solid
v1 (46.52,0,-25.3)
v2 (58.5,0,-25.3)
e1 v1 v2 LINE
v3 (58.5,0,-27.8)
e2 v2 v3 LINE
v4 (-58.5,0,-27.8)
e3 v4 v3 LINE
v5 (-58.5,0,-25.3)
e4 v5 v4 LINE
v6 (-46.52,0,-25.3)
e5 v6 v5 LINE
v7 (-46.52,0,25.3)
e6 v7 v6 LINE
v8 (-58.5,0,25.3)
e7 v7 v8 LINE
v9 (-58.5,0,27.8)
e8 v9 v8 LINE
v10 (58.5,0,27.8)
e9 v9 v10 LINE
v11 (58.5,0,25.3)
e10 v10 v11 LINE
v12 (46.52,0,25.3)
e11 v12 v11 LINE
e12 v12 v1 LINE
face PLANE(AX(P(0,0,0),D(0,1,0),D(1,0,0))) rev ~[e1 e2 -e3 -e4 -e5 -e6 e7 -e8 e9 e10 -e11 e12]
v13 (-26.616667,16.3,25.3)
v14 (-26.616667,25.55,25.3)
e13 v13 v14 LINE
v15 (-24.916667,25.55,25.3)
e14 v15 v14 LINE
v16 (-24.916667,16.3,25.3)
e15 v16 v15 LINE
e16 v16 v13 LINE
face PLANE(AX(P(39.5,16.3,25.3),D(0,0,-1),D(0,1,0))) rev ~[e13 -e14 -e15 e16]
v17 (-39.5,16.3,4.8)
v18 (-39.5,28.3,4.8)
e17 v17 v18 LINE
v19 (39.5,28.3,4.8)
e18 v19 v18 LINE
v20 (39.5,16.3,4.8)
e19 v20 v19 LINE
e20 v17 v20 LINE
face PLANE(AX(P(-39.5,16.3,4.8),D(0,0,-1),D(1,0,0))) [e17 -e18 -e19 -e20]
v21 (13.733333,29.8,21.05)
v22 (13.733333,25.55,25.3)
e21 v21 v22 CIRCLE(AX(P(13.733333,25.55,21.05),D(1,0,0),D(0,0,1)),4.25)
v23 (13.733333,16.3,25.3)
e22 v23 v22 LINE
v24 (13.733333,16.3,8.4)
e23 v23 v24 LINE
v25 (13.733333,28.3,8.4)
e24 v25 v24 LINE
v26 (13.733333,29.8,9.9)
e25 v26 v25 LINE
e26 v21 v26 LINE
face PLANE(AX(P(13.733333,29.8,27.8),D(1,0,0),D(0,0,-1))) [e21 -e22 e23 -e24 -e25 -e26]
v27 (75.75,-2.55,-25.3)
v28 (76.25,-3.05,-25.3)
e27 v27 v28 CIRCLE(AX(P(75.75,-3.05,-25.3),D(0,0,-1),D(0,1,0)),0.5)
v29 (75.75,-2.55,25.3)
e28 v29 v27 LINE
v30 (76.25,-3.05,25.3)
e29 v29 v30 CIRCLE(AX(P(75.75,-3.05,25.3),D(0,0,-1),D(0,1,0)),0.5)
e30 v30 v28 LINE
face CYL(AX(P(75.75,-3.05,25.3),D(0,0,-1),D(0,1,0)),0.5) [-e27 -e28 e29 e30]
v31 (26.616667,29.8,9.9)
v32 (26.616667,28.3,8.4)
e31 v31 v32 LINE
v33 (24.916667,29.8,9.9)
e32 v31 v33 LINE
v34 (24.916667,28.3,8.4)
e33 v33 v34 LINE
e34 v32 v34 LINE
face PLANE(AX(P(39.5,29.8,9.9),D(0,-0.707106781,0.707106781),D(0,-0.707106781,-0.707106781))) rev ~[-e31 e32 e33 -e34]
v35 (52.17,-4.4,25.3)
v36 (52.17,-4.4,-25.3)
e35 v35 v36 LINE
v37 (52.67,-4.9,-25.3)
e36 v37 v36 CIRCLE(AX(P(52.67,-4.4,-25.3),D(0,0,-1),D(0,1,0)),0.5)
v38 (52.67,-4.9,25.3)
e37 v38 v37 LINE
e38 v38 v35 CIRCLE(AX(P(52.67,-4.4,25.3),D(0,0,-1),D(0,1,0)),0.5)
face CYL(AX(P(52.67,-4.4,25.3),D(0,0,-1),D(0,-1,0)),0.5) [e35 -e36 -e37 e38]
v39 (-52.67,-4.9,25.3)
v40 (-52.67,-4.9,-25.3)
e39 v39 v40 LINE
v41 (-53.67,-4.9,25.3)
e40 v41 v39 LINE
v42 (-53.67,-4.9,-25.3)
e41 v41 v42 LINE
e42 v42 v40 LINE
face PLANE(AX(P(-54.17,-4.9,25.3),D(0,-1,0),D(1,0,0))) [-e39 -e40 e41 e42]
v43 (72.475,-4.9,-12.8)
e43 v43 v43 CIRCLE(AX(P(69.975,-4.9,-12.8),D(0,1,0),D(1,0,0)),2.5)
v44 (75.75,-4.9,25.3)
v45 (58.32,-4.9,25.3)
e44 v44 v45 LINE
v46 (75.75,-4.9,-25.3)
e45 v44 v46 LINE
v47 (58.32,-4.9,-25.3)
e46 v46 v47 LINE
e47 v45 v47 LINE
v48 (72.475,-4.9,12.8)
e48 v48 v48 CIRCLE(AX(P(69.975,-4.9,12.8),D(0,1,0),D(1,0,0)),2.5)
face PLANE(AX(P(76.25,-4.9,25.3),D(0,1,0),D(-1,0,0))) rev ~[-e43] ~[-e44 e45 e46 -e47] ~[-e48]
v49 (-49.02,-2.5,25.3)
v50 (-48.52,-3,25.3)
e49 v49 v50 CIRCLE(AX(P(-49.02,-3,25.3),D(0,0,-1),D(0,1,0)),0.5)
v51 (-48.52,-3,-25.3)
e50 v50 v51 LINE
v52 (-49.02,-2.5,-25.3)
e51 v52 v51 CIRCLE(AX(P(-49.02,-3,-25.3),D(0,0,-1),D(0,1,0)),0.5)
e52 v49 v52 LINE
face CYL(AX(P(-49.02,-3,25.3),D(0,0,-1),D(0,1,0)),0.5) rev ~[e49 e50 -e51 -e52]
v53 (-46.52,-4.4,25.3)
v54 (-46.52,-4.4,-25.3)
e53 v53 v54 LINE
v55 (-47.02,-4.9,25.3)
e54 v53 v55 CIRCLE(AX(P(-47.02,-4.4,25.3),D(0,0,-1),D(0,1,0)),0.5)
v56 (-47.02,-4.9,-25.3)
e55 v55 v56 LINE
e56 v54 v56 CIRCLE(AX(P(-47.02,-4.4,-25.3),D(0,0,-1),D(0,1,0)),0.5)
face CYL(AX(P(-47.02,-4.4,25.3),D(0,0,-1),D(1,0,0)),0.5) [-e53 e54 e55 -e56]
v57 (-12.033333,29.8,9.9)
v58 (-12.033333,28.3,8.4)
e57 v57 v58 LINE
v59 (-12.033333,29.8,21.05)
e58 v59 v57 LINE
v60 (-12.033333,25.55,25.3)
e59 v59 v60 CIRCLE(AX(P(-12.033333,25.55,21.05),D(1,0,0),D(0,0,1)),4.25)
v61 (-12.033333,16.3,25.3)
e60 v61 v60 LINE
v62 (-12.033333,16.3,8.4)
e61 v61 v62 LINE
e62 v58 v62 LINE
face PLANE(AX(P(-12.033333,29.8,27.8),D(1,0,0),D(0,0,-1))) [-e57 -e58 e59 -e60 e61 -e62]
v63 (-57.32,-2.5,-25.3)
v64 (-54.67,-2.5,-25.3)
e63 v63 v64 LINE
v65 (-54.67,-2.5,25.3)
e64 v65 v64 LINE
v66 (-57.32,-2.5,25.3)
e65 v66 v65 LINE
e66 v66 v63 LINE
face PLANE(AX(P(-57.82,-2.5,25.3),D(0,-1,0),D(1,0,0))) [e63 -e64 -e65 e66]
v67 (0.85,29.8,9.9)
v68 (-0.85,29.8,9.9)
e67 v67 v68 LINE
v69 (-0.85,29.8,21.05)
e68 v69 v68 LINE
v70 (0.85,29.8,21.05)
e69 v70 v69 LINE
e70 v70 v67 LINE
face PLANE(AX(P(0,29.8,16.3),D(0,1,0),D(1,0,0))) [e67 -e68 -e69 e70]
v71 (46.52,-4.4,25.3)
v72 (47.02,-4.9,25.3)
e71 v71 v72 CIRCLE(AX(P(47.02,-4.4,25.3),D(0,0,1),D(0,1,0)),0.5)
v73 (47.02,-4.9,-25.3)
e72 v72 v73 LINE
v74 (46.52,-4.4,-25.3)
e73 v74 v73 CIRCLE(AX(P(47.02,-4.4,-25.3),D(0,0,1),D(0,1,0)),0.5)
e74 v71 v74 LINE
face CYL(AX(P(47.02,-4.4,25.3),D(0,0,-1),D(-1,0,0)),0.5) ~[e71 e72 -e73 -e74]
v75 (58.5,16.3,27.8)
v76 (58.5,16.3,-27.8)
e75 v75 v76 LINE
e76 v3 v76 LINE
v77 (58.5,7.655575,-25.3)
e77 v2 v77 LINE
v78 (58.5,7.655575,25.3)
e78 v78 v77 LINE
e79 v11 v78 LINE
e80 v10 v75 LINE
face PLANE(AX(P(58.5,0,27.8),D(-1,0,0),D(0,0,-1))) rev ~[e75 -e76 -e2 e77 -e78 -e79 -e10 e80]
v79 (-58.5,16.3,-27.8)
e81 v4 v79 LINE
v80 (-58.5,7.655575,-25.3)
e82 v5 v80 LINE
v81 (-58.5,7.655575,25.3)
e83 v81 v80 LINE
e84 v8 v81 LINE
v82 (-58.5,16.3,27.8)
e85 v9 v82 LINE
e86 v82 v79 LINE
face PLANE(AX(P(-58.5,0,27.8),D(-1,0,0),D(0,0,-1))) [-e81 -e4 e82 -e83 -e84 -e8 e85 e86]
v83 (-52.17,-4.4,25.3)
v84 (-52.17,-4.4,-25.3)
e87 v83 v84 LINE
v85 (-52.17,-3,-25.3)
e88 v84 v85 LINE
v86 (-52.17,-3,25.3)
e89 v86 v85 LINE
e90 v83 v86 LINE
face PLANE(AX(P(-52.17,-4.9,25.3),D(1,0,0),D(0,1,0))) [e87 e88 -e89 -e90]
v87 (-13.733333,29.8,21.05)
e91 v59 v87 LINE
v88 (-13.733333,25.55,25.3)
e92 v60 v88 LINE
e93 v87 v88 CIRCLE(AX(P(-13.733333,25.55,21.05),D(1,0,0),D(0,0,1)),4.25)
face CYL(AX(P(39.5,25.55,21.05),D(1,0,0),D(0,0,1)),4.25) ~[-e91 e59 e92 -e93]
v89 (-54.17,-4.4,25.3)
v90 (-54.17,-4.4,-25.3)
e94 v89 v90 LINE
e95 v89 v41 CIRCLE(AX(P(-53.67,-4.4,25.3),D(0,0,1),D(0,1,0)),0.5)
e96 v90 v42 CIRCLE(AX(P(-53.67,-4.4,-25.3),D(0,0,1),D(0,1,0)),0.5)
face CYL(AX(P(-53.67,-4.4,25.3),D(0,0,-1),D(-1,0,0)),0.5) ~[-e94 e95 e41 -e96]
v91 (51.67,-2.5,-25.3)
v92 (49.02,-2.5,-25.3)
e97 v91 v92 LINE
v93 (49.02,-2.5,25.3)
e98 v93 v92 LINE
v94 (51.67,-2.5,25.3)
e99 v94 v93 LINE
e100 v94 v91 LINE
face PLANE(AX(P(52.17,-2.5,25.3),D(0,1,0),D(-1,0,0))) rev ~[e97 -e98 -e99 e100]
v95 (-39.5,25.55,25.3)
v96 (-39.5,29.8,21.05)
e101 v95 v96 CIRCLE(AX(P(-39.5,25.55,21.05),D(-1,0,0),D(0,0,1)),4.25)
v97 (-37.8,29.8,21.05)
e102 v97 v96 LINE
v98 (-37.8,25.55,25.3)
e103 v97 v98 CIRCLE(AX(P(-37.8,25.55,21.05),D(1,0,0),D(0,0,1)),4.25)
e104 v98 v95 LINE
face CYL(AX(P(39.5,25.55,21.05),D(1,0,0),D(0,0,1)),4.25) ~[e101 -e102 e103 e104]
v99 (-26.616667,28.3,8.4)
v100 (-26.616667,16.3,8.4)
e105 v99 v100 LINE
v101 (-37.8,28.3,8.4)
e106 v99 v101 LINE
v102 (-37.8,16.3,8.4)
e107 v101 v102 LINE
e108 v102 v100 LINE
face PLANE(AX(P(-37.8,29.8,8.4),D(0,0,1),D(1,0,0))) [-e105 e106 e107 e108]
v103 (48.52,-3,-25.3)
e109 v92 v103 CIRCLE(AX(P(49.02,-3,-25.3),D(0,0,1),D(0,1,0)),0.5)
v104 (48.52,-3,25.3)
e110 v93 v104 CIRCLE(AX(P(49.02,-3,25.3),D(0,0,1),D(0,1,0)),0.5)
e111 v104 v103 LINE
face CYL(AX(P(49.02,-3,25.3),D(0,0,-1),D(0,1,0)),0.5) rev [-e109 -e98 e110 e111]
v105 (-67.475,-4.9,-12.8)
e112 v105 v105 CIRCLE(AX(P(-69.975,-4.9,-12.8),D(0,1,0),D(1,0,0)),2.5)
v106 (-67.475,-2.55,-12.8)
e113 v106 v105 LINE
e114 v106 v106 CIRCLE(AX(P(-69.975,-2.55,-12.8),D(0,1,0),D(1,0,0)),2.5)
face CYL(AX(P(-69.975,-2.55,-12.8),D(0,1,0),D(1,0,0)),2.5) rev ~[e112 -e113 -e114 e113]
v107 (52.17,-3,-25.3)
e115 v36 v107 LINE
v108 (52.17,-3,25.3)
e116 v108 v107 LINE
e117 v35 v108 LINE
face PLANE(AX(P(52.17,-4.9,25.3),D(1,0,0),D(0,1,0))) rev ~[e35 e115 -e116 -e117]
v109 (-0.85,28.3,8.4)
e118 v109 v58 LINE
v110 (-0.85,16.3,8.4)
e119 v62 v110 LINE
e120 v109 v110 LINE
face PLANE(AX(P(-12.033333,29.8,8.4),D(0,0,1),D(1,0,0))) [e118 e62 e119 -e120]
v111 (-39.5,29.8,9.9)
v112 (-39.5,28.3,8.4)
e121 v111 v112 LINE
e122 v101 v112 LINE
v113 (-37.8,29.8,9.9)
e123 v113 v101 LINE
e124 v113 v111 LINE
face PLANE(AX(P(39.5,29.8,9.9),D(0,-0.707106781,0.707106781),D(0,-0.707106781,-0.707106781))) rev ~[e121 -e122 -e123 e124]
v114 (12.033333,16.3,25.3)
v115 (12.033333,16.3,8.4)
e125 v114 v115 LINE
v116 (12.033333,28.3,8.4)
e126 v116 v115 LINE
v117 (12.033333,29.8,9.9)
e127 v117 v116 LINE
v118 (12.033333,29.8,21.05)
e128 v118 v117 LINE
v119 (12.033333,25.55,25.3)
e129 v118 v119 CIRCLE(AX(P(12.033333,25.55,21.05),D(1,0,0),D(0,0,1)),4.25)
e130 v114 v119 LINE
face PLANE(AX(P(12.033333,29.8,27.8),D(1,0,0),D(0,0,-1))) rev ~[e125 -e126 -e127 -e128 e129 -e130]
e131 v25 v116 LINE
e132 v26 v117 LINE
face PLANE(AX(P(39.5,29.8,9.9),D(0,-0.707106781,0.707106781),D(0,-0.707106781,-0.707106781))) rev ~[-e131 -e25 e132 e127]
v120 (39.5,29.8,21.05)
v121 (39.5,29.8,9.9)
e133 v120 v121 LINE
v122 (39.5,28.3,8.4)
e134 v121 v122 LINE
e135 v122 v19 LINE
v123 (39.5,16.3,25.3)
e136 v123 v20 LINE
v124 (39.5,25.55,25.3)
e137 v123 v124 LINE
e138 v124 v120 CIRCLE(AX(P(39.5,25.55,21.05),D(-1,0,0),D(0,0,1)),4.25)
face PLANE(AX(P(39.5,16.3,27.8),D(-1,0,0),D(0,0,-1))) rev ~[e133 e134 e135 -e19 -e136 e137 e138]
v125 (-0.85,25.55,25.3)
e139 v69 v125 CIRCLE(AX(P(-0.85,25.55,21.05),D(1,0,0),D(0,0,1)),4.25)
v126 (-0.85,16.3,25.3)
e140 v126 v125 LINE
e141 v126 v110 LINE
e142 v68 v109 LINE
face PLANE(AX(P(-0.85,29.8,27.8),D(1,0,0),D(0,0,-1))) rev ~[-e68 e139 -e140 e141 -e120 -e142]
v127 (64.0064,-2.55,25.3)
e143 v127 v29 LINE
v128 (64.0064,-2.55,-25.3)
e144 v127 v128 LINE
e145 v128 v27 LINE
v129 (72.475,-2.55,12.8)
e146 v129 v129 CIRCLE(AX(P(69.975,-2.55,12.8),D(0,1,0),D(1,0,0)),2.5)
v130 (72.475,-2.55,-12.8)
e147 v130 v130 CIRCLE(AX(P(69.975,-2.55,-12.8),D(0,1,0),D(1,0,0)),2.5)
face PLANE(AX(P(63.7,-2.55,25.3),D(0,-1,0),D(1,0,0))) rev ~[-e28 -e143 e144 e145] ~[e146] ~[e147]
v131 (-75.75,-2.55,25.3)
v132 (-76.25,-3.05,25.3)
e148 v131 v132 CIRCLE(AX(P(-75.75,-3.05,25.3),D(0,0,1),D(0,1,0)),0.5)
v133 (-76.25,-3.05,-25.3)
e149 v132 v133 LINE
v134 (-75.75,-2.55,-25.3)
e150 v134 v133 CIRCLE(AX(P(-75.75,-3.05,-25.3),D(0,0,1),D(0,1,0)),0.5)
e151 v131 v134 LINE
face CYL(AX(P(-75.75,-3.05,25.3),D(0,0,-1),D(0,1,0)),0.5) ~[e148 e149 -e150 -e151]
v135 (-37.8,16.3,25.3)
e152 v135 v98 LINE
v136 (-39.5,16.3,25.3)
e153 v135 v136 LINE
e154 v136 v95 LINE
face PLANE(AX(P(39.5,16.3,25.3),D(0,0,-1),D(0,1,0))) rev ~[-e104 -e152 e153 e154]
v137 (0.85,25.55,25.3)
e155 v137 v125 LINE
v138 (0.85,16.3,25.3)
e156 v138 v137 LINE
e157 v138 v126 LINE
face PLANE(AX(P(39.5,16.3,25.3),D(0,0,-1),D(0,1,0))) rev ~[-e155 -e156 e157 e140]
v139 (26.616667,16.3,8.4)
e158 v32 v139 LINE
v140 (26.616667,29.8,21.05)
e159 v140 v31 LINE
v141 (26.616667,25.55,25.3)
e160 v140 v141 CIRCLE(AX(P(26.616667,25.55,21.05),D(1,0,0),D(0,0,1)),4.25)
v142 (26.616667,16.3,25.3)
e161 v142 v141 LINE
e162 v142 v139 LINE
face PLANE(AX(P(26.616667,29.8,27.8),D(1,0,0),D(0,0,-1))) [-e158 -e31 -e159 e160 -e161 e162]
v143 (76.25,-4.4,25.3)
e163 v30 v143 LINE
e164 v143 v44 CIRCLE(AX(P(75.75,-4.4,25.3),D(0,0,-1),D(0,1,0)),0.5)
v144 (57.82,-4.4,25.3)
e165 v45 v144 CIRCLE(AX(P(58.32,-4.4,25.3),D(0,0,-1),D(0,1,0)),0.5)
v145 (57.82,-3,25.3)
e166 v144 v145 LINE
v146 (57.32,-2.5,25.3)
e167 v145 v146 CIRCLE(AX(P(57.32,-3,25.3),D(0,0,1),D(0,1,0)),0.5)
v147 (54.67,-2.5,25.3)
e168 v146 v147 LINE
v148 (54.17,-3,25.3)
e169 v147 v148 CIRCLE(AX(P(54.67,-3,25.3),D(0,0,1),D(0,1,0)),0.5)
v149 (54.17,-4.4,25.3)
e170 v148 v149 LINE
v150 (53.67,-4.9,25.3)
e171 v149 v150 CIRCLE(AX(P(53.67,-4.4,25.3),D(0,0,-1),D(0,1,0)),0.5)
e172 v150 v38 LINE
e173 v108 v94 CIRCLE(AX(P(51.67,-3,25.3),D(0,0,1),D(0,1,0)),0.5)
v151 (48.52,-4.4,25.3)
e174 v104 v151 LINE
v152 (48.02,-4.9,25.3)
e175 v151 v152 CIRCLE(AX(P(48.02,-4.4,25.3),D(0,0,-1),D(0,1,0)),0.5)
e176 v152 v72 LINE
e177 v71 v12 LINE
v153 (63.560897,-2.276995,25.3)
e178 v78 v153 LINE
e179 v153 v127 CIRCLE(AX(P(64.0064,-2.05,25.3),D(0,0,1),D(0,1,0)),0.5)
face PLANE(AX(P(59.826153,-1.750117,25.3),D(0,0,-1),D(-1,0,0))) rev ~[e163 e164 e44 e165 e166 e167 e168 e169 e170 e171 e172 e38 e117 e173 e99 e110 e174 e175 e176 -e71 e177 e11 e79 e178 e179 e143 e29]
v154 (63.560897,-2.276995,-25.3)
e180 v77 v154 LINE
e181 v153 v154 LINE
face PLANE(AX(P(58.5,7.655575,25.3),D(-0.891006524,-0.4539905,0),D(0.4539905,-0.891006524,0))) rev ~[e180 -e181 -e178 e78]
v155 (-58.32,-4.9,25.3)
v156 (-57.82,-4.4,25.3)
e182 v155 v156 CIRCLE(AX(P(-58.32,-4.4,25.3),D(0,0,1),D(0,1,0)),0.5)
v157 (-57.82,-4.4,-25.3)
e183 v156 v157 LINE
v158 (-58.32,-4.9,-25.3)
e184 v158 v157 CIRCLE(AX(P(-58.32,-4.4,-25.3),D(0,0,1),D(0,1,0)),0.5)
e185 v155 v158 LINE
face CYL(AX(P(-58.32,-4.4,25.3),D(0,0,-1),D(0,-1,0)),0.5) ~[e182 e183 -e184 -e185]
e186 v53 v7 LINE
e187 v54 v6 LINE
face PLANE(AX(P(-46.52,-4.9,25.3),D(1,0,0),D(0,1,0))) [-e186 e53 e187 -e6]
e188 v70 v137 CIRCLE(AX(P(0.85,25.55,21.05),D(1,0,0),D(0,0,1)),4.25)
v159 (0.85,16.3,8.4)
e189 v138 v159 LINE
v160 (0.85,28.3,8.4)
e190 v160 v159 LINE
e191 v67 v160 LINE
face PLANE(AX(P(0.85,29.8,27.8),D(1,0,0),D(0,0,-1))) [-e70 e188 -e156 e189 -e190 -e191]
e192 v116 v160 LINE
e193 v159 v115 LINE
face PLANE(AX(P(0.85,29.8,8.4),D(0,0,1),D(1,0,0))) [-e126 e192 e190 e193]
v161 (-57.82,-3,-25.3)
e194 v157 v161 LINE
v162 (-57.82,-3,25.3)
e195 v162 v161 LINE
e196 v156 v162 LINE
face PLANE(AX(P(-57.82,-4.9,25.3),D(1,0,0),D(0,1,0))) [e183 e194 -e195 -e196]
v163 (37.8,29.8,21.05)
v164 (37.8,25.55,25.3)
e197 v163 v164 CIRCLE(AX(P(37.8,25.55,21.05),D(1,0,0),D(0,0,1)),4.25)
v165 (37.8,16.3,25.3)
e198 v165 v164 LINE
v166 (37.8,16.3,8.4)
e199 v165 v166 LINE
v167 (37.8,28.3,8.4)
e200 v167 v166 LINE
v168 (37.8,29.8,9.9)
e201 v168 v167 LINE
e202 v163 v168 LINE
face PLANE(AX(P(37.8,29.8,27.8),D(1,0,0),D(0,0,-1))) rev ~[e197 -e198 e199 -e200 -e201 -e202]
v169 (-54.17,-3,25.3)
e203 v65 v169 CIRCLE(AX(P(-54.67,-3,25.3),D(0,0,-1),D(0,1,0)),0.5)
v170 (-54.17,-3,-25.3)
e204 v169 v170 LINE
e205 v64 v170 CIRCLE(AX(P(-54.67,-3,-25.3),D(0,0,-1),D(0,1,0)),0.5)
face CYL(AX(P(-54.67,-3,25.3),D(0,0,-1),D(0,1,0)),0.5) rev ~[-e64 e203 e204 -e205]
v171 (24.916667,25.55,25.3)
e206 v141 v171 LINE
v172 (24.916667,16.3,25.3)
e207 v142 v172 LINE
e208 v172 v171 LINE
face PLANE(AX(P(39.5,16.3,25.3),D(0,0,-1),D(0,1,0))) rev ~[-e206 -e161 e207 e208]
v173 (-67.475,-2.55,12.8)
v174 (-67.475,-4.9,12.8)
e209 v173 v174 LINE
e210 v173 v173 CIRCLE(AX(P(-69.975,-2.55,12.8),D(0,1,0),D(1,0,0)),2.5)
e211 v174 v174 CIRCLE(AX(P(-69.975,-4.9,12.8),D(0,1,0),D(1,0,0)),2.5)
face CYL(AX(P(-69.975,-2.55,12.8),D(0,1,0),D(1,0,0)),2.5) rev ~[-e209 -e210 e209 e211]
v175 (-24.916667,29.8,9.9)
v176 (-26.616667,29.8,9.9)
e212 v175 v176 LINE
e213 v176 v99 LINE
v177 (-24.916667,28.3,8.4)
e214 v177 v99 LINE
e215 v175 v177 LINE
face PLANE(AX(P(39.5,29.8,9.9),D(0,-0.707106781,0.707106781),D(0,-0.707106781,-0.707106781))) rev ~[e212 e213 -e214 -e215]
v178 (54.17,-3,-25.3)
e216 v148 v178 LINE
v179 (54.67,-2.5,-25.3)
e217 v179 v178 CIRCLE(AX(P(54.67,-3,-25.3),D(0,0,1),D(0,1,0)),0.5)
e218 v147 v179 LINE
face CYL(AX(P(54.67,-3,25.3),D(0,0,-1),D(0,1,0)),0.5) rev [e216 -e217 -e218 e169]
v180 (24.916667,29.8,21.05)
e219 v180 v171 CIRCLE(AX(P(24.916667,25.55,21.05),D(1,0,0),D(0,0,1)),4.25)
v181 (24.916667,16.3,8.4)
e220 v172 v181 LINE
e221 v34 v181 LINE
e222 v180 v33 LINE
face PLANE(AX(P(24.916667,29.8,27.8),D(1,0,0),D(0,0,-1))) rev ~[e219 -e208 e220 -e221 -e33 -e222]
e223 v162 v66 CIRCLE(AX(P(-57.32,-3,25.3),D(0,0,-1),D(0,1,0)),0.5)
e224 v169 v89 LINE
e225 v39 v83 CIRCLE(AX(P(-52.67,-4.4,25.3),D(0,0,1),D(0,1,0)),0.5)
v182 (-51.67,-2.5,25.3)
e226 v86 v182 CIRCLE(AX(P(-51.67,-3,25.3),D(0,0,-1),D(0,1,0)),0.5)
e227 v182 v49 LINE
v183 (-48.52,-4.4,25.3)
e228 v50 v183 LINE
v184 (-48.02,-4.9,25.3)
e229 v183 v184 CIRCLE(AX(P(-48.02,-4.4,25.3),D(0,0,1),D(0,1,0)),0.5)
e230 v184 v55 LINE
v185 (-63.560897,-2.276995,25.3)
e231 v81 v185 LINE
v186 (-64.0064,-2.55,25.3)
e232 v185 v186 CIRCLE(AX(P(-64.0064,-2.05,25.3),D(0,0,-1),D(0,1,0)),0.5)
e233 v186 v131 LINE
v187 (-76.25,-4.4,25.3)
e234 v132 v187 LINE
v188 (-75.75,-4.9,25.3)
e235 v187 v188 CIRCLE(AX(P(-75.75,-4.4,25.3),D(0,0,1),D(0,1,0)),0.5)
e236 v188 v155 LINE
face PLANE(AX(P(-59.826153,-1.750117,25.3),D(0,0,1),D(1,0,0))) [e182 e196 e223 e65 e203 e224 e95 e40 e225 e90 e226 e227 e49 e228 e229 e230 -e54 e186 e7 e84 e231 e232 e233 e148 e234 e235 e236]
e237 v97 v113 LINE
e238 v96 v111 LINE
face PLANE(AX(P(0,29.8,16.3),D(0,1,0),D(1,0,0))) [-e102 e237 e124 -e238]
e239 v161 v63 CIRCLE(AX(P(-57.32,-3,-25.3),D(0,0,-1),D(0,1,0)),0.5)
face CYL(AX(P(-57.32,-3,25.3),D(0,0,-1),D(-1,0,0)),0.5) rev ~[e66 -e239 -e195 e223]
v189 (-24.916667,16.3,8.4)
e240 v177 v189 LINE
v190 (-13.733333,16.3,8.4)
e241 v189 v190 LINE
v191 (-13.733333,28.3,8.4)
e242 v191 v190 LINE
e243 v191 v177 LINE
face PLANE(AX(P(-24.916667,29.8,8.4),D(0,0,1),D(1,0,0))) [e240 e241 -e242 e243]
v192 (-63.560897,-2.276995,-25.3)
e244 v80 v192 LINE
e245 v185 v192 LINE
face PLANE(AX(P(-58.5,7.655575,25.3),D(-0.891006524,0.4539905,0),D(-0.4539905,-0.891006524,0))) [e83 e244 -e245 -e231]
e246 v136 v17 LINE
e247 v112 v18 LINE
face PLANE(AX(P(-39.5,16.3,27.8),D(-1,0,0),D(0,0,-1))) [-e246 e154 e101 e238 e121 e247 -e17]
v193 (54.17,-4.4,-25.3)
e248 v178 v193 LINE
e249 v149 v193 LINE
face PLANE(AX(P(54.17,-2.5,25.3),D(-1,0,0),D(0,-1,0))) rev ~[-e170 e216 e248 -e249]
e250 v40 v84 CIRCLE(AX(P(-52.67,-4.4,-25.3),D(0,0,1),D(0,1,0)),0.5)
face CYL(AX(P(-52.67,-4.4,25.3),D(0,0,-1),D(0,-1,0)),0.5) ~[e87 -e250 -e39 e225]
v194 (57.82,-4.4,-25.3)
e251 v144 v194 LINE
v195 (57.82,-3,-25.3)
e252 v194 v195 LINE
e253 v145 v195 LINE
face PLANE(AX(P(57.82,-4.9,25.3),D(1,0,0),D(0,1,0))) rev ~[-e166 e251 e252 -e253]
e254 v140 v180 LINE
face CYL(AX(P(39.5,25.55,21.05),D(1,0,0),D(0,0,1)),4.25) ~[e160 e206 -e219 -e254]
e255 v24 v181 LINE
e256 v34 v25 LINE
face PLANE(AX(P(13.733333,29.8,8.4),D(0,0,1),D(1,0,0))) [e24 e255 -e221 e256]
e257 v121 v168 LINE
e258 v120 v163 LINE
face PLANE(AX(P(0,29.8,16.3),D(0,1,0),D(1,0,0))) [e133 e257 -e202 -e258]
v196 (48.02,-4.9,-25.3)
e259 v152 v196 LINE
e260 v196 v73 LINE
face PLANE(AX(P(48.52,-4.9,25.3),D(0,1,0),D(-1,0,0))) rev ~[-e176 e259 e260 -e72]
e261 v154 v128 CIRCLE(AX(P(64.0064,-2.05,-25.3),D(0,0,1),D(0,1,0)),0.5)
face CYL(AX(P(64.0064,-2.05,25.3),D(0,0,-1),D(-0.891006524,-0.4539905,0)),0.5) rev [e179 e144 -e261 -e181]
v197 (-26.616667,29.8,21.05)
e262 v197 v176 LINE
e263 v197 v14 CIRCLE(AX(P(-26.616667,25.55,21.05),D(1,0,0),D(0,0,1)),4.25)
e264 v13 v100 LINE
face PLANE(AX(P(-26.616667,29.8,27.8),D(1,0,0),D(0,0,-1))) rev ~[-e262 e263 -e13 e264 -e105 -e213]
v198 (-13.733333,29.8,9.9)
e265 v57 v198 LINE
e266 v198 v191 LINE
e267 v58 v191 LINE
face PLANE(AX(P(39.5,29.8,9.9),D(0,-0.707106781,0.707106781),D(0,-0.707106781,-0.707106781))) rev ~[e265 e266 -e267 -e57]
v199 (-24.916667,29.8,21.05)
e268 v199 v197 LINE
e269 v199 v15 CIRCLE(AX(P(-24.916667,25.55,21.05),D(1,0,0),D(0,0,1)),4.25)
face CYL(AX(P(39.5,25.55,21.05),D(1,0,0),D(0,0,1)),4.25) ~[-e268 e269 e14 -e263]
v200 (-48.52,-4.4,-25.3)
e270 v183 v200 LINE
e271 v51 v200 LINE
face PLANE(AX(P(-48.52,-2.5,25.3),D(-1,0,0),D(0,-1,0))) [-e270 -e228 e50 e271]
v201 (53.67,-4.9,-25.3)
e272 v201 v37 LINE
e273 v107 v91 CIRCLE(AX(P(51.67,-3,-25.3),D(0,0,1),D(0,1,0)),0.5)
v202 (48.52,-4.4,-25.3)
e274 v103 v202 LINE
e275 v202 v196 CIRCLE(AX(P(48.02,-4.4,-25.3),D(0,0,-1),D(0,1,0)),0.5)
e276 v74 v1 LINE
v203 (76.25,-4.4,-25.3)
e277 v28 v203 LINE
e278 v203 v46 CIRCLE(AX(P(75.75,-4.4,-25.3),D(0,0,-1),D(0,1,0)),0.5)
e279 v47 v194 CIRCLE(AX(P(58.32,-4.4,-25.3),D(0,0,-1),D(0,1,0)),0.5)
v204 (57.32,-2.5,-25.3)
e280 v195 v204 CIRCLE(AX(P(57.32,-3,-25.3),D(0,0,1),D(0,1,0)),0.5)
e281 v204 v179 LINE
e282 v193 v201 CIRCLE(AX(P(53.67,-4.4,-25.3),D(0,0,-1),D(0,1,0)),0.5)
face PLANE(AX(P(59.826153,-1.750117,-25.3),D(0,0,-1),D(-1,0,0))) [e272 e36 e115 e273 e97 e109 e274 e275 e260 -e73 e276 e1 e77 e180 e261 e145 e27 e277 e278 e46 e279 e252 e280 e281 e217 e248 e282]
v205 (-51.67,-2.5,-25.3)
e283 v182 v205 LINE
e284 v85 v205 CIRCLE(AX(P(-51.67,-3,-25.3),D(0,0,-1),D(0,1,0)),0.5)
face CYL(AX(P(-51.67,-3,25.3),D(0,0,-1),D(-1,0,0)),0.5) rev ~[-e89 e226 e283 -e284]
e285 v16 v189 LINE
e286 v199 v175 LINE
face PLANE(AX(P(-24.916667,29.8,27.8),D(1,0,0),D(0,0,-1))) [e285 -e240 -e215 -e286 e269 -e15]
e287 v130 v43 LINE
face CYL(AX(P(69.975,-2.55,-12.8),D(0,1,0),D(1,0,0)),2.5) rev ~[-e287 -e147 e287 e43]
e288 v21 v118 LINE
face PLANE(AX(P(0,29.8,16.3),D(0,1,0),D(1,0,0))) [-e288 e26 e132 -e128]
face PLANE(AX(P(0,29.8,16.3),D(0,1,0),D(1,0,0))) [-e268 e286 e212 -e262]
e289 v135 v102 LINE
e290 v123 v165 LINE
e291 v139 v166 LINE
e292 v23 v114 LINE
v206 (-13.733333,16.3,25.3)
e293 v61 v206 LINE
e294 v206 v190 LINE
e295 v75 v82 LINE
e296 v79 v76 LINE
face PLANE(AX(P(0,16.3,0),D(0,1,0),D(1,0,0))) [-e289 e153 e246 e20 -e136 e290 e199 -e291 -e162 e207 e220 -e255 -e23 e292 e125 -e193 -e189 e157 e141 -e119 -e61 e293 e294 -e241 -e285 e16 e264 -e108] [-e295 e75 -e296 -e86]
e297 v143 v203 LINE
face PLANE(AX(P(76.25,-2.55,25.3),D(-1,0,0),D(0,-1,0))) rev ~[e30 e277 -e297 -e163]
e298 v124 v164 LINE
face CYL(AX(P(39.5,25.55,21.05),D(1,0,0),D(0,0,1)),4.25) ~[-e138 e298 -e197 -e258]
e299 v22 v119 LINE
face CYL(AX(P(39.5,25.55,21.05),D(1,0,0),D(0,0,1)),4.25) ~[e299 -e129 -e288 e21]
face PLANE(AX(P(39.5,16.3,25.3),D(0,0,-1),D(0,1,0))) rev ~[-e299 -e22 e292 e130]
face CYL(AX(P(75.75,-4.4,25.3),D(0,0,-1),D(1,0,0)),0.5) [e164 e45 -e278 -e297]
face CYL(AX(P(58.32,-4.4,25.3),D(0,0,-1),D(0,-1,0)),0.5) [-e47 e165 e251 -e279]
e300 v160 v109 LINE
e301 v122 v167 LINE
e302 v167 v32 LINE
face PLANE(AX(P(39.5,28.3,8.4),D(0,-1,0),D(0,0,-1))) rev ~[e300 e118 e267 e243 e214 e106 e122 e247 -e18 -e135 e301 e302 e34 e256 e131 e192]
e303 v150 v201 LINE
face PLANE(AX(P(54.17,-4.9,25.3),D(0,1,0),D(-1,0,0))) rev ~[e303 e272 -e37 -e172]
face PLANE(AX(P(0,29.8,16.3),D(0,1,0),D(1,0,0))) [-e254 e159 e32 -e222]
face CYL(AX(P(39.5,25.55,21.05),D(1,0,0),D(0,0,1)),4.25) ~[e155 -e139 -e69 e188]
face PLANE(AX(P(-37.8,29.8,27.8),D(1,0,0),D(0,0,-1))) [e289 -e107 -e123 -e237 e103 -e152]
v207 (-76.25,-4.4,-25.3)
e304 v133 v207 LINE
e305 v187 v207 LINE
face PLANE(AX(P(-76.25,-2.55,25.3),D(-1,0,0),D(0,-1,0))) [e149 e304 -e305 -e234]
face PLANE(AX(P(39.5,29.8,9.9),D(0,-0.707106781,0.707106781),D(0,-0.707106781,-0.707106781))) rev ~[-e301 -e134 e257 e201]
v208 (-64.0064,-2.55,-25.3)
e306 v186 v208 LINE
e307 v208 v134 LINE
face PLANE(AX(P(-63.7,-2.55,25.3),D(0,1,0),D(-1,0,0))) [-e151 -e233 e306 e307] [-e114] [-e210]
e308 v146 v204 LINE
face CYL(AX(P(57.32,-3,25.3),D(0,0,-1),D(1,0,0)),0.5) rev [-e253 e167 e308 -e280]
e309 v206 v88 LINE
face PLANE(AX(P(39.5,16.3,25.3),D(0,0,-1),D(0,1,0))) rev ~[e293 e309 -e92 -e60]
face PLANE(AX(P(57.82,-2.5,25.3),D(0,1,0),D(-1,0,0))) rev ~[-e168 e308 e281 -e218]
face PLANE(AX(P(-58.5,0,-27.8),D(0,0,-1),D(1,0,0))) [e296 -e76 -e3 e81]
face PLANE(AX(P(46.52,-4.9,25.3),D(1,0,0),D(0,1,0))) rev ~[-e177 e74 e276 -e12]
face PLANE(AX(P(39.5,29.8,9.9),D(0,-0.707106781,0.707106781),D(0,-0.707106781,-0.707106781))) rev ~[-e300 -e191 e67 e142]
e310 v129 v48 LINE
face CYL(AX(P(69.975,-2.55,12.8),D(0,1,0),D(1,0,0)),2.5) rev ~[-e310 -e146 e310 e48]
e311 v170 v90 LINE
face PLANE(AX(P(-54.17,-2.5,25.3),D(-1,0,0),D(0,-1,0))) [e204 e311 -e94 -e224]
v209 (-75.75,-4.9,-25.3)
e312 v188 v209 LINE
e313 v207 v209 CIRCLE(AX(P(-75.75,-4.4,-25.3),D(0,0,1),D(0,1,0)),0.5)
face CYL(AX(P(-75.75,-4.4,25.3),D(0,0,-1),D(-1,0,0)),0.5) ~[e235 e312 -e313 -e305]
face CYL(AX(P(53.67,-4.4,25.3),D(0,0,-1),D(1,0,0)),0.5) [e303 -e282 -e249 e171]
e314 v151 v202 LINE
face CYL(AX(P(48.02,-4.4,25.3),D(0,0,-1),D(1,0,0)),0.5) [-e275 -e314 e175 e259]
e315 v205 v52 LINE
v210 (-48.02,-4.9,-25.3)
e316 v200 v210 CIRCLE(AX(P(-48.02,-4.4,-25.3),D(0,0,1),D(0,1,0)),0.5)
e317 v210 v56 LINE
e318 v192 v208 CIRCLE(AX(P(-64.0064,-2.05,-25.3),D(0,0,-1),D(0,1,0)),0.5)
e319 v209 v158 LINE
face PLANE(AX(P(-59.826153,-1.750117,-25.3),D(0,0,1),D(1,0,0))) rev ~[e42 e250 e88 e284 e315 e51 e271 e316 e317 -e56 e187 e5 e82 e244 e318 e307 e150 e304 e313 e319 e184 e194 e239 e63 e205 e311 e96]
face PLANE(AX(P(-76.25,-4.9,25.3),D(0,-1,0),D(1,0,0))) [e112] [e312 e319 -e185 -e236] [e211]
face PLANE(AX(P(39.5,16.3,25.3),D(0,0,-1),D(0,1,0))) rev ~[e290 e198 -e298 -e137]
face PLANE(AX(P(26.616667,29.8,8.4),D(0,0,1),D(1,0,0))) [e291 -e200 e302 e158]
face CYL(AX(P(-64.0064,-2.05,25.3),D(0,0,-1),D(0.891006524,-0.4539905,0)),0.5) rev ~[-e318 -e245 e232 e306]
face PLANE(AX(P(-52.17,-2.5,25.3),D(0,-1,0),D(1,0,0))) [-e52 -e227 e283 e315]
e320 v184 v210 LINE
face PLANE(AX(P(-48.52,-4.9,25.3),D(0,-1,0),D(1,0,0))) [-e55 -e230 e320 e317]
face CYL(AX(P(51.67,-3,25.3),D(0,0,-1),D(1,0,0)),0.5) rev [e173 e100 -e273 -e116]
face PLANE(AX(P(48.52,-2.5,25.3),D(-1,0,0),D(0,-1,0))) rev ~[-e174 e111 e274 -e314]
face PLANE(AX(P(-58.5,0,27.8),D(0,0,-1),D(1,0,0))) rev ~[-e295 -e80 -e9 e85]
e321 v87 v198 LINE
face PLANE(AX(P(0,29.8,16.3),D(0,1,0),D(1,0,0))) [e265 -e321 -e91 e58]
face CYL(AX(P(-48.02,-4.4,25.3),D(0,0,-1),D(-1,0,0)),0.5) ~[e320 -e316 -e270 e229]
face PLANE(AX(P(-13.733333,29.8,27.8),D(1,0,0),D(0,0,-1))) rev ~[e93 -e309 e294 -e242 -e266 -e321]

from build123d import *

# Parameters (mm, degrees)
SKETCH1_W           = 117
SKETCH1_H           = 55.6
BOSS_EXTRUDE1_DEPTH = 16.3
SKETCH2_W           = 79
SKETCH2_H           = 23
BOSS_EXTRUDE2_DEPTH = 13.5
SKETCH4_W           = 11.183333333
SKETCH4_H           = 19.4
SKETCH4_W_2         = 11.183333334
CUT_EXTRUDE2_DEPTH  = 13.5
CUT_EXTRUDE1_DEPTH  = 79
BOSS_EXTRUDE3_DEPTH = 50.6
SKETCH7_R           = 2.5
CUT_EXTRUDE3_DEPTH  = 3.35
FILLET1_R           = 0.5


with BuildPart() as part:
    # Sketch1 → Boss-Extrude1 (new body)
    with BuildSketch(Plane(origin=(0, 0, 0), x_dir=(1, 0, 0), z_dir=(0, 1, 0))):
        Rectangle(SKETCH1_W, SKETCH1_H)
    extrude(amount=BOSS_EXTRUDE1_DEPTH)

    # Sketch2 → Boss-Extrude2 (add)
    with BuildSketch(Plane(origin=(0, 16.3, 0), x_dir=(1, 0, 0), z_dir=(0, 1, 0))):
        with Locations((0, -16.3)):
            Rectangle(SKETCH2_W, SKETCH2_H)
    extrude(amount=BOSS_EXTRUDE2_DEPTH)

    # Sketch4 → Cut-Extrude2 (cut)
    with BuildSketch(Plane(origin=(0, 29.8, 0), x_dir=(1, 0, 0), z_dir=(0, 1, 0))):
        with Locations((-32.208333334, -18.1)):
            Rectangle(SKETCH4_W, SKETCH4_H)
        with Locations((-19.325, -18.1)):
            Rectangle(SKETCH4_W_2, SKETCH4_H)
        with Locations((-6.441666667, -18.1)):
            Rectangle(SKETCH4_W, SKETCH4_H)
        with Locations((6.441666667, -18.1)):
            Rectangle(SKETCH4_W, SKETCH4_H)
        with Locations((19.325, -18.1)):
            Rectangle(SKETCH4_W_2, SKETCH4_H)
        with Locations((32.208333334, -18.1)):
            Rectangle(SKETCH4_W, SKETCH4_H)
    extrude(amount=-CUT_EXTRUDE2_DEPTH, mode=Mode.SUBTRACT)

    # Sketch3 → Cut-Extrude1 (cut)
    with BuildSketch(Plane(origin=(39.5, 0, 0), x_dir=(0, 0, -1), z_dir=(1, 0, 0))):
        with BuildLine():
            Line((-27.8, 16.3), (-25.3, 16.3))
            Line((-25.3, 16.3), (-25.3, 25.55))
            ThreePointArc((-25.3, 25.55), (-24.05520382, 28.55520382), (-21.05, 29.8))
            Line((-21.05, 29.8), (-27.8, 29.8))
            Line((-27.8, 29.8), (-27.8, 16.3))
        make_face()
        Polygon((-9.9, 29.8), (-8.4, 28.3), (-4.8, 28.3), (-4.8, 29.8), align=None)
    extrude(amount=-CUT_EXTRUDE1_DEPTH, mode=Mode.SUBTRACT)

    # Sketch5 → Boss-Extrude3 (add)
    with BuildSketch(Plane.XY.offset(25.3)):
        Polygon((-58.5, 7.655574629), (-63.7, -2.55), (-76.25, -2.55), (-76.25, -4.9), (-57.82, -4.9), (-57.82, -2.5), (-54.17, -2.5), (-54.17, -4.9), (-52.17, -4.9), (-52.17, -2.5), (-48.52, -2.5), (-48.52, -4.9), (-46.52, -4.9), (-46.52, 0), (-58.5, 0), align=None)
        Polygon((58.5, 0), (58.5, 7.655574629), (63.7, -2.55), (76.25, -2.55), (76.25, -4.9), (57.82, -4.9), (57.82, -2.5), (54.17, -2.5), (54.17, -4.9), (52.17, -4.9), (52.17, -2.5), (48.52, -2.5), (48.52, -4.9), (46.52, -4.9), (46.52, 0), align=None)
    extrude(amount=-BOSS_EXTRUDE3_DEPTH)

    # Sketch7 → Cut-Extrude3 (cut, through all)
    with BuildSketch(Plane(origin=(0, -2.55, 0), x_dir=(1, 0, 0), z_dir=(0, 1, 0))):
        with Locations((-69.975, 12.8)):
            Circle(SKETCH7_R)
        with Locations((69.975, 12.8)):
            Circle(SKETCH7_R)
        with Locations((69.975, -12.8)):
            Circle(SKETCH7_R)
        with Locations((-69.975, -12.8)):
            Circle(SKETCH7_R)
    extrude(amount=-CUT_EXTRUDE3_DEPTH, mode=Mode.SUBTRACT)

    # Fillet1
    fillet1_edges = [part.edges().sort_by_distance(p)[0] for p in [
        (-46.52, -4.9, 0),
        (-48.52, -4.9, 0),
        (-48.52, -2.5, 0),
        (-52.17, -2.5, 0),
        (-52.17, -4.9, 0),
        (-54.17, -4.9, 0),
        (-54.17, -2.5, 0),
        (-57.82, -2.5, 0),
        (-57.82, -4.9, 0),
        (-76.25, -4.9, 0),
        (-76.25, -2.55, 0),
        (-63.7, -2.55, 0),
        (63.7, -2.55, 0),
        (76.25, -2.55, 0),
        (76.25, -4.9, 0),
        (57.82, -4.9, 0),
        (57.82, -2.5, 0),
        (54.17, -2.5, 0),
        (54.17, -4.9, 0),
        (52.17, -4.9, 0),
        (52.17, -2.5, 0),
        (48.52, -2.5, 0),
        (48.52, -4.9, 0),
        (46.52, -4.9, 0),
    ]]
    fillet(fillet1_edges, radius=FILLET1_R)


solid = part.part
